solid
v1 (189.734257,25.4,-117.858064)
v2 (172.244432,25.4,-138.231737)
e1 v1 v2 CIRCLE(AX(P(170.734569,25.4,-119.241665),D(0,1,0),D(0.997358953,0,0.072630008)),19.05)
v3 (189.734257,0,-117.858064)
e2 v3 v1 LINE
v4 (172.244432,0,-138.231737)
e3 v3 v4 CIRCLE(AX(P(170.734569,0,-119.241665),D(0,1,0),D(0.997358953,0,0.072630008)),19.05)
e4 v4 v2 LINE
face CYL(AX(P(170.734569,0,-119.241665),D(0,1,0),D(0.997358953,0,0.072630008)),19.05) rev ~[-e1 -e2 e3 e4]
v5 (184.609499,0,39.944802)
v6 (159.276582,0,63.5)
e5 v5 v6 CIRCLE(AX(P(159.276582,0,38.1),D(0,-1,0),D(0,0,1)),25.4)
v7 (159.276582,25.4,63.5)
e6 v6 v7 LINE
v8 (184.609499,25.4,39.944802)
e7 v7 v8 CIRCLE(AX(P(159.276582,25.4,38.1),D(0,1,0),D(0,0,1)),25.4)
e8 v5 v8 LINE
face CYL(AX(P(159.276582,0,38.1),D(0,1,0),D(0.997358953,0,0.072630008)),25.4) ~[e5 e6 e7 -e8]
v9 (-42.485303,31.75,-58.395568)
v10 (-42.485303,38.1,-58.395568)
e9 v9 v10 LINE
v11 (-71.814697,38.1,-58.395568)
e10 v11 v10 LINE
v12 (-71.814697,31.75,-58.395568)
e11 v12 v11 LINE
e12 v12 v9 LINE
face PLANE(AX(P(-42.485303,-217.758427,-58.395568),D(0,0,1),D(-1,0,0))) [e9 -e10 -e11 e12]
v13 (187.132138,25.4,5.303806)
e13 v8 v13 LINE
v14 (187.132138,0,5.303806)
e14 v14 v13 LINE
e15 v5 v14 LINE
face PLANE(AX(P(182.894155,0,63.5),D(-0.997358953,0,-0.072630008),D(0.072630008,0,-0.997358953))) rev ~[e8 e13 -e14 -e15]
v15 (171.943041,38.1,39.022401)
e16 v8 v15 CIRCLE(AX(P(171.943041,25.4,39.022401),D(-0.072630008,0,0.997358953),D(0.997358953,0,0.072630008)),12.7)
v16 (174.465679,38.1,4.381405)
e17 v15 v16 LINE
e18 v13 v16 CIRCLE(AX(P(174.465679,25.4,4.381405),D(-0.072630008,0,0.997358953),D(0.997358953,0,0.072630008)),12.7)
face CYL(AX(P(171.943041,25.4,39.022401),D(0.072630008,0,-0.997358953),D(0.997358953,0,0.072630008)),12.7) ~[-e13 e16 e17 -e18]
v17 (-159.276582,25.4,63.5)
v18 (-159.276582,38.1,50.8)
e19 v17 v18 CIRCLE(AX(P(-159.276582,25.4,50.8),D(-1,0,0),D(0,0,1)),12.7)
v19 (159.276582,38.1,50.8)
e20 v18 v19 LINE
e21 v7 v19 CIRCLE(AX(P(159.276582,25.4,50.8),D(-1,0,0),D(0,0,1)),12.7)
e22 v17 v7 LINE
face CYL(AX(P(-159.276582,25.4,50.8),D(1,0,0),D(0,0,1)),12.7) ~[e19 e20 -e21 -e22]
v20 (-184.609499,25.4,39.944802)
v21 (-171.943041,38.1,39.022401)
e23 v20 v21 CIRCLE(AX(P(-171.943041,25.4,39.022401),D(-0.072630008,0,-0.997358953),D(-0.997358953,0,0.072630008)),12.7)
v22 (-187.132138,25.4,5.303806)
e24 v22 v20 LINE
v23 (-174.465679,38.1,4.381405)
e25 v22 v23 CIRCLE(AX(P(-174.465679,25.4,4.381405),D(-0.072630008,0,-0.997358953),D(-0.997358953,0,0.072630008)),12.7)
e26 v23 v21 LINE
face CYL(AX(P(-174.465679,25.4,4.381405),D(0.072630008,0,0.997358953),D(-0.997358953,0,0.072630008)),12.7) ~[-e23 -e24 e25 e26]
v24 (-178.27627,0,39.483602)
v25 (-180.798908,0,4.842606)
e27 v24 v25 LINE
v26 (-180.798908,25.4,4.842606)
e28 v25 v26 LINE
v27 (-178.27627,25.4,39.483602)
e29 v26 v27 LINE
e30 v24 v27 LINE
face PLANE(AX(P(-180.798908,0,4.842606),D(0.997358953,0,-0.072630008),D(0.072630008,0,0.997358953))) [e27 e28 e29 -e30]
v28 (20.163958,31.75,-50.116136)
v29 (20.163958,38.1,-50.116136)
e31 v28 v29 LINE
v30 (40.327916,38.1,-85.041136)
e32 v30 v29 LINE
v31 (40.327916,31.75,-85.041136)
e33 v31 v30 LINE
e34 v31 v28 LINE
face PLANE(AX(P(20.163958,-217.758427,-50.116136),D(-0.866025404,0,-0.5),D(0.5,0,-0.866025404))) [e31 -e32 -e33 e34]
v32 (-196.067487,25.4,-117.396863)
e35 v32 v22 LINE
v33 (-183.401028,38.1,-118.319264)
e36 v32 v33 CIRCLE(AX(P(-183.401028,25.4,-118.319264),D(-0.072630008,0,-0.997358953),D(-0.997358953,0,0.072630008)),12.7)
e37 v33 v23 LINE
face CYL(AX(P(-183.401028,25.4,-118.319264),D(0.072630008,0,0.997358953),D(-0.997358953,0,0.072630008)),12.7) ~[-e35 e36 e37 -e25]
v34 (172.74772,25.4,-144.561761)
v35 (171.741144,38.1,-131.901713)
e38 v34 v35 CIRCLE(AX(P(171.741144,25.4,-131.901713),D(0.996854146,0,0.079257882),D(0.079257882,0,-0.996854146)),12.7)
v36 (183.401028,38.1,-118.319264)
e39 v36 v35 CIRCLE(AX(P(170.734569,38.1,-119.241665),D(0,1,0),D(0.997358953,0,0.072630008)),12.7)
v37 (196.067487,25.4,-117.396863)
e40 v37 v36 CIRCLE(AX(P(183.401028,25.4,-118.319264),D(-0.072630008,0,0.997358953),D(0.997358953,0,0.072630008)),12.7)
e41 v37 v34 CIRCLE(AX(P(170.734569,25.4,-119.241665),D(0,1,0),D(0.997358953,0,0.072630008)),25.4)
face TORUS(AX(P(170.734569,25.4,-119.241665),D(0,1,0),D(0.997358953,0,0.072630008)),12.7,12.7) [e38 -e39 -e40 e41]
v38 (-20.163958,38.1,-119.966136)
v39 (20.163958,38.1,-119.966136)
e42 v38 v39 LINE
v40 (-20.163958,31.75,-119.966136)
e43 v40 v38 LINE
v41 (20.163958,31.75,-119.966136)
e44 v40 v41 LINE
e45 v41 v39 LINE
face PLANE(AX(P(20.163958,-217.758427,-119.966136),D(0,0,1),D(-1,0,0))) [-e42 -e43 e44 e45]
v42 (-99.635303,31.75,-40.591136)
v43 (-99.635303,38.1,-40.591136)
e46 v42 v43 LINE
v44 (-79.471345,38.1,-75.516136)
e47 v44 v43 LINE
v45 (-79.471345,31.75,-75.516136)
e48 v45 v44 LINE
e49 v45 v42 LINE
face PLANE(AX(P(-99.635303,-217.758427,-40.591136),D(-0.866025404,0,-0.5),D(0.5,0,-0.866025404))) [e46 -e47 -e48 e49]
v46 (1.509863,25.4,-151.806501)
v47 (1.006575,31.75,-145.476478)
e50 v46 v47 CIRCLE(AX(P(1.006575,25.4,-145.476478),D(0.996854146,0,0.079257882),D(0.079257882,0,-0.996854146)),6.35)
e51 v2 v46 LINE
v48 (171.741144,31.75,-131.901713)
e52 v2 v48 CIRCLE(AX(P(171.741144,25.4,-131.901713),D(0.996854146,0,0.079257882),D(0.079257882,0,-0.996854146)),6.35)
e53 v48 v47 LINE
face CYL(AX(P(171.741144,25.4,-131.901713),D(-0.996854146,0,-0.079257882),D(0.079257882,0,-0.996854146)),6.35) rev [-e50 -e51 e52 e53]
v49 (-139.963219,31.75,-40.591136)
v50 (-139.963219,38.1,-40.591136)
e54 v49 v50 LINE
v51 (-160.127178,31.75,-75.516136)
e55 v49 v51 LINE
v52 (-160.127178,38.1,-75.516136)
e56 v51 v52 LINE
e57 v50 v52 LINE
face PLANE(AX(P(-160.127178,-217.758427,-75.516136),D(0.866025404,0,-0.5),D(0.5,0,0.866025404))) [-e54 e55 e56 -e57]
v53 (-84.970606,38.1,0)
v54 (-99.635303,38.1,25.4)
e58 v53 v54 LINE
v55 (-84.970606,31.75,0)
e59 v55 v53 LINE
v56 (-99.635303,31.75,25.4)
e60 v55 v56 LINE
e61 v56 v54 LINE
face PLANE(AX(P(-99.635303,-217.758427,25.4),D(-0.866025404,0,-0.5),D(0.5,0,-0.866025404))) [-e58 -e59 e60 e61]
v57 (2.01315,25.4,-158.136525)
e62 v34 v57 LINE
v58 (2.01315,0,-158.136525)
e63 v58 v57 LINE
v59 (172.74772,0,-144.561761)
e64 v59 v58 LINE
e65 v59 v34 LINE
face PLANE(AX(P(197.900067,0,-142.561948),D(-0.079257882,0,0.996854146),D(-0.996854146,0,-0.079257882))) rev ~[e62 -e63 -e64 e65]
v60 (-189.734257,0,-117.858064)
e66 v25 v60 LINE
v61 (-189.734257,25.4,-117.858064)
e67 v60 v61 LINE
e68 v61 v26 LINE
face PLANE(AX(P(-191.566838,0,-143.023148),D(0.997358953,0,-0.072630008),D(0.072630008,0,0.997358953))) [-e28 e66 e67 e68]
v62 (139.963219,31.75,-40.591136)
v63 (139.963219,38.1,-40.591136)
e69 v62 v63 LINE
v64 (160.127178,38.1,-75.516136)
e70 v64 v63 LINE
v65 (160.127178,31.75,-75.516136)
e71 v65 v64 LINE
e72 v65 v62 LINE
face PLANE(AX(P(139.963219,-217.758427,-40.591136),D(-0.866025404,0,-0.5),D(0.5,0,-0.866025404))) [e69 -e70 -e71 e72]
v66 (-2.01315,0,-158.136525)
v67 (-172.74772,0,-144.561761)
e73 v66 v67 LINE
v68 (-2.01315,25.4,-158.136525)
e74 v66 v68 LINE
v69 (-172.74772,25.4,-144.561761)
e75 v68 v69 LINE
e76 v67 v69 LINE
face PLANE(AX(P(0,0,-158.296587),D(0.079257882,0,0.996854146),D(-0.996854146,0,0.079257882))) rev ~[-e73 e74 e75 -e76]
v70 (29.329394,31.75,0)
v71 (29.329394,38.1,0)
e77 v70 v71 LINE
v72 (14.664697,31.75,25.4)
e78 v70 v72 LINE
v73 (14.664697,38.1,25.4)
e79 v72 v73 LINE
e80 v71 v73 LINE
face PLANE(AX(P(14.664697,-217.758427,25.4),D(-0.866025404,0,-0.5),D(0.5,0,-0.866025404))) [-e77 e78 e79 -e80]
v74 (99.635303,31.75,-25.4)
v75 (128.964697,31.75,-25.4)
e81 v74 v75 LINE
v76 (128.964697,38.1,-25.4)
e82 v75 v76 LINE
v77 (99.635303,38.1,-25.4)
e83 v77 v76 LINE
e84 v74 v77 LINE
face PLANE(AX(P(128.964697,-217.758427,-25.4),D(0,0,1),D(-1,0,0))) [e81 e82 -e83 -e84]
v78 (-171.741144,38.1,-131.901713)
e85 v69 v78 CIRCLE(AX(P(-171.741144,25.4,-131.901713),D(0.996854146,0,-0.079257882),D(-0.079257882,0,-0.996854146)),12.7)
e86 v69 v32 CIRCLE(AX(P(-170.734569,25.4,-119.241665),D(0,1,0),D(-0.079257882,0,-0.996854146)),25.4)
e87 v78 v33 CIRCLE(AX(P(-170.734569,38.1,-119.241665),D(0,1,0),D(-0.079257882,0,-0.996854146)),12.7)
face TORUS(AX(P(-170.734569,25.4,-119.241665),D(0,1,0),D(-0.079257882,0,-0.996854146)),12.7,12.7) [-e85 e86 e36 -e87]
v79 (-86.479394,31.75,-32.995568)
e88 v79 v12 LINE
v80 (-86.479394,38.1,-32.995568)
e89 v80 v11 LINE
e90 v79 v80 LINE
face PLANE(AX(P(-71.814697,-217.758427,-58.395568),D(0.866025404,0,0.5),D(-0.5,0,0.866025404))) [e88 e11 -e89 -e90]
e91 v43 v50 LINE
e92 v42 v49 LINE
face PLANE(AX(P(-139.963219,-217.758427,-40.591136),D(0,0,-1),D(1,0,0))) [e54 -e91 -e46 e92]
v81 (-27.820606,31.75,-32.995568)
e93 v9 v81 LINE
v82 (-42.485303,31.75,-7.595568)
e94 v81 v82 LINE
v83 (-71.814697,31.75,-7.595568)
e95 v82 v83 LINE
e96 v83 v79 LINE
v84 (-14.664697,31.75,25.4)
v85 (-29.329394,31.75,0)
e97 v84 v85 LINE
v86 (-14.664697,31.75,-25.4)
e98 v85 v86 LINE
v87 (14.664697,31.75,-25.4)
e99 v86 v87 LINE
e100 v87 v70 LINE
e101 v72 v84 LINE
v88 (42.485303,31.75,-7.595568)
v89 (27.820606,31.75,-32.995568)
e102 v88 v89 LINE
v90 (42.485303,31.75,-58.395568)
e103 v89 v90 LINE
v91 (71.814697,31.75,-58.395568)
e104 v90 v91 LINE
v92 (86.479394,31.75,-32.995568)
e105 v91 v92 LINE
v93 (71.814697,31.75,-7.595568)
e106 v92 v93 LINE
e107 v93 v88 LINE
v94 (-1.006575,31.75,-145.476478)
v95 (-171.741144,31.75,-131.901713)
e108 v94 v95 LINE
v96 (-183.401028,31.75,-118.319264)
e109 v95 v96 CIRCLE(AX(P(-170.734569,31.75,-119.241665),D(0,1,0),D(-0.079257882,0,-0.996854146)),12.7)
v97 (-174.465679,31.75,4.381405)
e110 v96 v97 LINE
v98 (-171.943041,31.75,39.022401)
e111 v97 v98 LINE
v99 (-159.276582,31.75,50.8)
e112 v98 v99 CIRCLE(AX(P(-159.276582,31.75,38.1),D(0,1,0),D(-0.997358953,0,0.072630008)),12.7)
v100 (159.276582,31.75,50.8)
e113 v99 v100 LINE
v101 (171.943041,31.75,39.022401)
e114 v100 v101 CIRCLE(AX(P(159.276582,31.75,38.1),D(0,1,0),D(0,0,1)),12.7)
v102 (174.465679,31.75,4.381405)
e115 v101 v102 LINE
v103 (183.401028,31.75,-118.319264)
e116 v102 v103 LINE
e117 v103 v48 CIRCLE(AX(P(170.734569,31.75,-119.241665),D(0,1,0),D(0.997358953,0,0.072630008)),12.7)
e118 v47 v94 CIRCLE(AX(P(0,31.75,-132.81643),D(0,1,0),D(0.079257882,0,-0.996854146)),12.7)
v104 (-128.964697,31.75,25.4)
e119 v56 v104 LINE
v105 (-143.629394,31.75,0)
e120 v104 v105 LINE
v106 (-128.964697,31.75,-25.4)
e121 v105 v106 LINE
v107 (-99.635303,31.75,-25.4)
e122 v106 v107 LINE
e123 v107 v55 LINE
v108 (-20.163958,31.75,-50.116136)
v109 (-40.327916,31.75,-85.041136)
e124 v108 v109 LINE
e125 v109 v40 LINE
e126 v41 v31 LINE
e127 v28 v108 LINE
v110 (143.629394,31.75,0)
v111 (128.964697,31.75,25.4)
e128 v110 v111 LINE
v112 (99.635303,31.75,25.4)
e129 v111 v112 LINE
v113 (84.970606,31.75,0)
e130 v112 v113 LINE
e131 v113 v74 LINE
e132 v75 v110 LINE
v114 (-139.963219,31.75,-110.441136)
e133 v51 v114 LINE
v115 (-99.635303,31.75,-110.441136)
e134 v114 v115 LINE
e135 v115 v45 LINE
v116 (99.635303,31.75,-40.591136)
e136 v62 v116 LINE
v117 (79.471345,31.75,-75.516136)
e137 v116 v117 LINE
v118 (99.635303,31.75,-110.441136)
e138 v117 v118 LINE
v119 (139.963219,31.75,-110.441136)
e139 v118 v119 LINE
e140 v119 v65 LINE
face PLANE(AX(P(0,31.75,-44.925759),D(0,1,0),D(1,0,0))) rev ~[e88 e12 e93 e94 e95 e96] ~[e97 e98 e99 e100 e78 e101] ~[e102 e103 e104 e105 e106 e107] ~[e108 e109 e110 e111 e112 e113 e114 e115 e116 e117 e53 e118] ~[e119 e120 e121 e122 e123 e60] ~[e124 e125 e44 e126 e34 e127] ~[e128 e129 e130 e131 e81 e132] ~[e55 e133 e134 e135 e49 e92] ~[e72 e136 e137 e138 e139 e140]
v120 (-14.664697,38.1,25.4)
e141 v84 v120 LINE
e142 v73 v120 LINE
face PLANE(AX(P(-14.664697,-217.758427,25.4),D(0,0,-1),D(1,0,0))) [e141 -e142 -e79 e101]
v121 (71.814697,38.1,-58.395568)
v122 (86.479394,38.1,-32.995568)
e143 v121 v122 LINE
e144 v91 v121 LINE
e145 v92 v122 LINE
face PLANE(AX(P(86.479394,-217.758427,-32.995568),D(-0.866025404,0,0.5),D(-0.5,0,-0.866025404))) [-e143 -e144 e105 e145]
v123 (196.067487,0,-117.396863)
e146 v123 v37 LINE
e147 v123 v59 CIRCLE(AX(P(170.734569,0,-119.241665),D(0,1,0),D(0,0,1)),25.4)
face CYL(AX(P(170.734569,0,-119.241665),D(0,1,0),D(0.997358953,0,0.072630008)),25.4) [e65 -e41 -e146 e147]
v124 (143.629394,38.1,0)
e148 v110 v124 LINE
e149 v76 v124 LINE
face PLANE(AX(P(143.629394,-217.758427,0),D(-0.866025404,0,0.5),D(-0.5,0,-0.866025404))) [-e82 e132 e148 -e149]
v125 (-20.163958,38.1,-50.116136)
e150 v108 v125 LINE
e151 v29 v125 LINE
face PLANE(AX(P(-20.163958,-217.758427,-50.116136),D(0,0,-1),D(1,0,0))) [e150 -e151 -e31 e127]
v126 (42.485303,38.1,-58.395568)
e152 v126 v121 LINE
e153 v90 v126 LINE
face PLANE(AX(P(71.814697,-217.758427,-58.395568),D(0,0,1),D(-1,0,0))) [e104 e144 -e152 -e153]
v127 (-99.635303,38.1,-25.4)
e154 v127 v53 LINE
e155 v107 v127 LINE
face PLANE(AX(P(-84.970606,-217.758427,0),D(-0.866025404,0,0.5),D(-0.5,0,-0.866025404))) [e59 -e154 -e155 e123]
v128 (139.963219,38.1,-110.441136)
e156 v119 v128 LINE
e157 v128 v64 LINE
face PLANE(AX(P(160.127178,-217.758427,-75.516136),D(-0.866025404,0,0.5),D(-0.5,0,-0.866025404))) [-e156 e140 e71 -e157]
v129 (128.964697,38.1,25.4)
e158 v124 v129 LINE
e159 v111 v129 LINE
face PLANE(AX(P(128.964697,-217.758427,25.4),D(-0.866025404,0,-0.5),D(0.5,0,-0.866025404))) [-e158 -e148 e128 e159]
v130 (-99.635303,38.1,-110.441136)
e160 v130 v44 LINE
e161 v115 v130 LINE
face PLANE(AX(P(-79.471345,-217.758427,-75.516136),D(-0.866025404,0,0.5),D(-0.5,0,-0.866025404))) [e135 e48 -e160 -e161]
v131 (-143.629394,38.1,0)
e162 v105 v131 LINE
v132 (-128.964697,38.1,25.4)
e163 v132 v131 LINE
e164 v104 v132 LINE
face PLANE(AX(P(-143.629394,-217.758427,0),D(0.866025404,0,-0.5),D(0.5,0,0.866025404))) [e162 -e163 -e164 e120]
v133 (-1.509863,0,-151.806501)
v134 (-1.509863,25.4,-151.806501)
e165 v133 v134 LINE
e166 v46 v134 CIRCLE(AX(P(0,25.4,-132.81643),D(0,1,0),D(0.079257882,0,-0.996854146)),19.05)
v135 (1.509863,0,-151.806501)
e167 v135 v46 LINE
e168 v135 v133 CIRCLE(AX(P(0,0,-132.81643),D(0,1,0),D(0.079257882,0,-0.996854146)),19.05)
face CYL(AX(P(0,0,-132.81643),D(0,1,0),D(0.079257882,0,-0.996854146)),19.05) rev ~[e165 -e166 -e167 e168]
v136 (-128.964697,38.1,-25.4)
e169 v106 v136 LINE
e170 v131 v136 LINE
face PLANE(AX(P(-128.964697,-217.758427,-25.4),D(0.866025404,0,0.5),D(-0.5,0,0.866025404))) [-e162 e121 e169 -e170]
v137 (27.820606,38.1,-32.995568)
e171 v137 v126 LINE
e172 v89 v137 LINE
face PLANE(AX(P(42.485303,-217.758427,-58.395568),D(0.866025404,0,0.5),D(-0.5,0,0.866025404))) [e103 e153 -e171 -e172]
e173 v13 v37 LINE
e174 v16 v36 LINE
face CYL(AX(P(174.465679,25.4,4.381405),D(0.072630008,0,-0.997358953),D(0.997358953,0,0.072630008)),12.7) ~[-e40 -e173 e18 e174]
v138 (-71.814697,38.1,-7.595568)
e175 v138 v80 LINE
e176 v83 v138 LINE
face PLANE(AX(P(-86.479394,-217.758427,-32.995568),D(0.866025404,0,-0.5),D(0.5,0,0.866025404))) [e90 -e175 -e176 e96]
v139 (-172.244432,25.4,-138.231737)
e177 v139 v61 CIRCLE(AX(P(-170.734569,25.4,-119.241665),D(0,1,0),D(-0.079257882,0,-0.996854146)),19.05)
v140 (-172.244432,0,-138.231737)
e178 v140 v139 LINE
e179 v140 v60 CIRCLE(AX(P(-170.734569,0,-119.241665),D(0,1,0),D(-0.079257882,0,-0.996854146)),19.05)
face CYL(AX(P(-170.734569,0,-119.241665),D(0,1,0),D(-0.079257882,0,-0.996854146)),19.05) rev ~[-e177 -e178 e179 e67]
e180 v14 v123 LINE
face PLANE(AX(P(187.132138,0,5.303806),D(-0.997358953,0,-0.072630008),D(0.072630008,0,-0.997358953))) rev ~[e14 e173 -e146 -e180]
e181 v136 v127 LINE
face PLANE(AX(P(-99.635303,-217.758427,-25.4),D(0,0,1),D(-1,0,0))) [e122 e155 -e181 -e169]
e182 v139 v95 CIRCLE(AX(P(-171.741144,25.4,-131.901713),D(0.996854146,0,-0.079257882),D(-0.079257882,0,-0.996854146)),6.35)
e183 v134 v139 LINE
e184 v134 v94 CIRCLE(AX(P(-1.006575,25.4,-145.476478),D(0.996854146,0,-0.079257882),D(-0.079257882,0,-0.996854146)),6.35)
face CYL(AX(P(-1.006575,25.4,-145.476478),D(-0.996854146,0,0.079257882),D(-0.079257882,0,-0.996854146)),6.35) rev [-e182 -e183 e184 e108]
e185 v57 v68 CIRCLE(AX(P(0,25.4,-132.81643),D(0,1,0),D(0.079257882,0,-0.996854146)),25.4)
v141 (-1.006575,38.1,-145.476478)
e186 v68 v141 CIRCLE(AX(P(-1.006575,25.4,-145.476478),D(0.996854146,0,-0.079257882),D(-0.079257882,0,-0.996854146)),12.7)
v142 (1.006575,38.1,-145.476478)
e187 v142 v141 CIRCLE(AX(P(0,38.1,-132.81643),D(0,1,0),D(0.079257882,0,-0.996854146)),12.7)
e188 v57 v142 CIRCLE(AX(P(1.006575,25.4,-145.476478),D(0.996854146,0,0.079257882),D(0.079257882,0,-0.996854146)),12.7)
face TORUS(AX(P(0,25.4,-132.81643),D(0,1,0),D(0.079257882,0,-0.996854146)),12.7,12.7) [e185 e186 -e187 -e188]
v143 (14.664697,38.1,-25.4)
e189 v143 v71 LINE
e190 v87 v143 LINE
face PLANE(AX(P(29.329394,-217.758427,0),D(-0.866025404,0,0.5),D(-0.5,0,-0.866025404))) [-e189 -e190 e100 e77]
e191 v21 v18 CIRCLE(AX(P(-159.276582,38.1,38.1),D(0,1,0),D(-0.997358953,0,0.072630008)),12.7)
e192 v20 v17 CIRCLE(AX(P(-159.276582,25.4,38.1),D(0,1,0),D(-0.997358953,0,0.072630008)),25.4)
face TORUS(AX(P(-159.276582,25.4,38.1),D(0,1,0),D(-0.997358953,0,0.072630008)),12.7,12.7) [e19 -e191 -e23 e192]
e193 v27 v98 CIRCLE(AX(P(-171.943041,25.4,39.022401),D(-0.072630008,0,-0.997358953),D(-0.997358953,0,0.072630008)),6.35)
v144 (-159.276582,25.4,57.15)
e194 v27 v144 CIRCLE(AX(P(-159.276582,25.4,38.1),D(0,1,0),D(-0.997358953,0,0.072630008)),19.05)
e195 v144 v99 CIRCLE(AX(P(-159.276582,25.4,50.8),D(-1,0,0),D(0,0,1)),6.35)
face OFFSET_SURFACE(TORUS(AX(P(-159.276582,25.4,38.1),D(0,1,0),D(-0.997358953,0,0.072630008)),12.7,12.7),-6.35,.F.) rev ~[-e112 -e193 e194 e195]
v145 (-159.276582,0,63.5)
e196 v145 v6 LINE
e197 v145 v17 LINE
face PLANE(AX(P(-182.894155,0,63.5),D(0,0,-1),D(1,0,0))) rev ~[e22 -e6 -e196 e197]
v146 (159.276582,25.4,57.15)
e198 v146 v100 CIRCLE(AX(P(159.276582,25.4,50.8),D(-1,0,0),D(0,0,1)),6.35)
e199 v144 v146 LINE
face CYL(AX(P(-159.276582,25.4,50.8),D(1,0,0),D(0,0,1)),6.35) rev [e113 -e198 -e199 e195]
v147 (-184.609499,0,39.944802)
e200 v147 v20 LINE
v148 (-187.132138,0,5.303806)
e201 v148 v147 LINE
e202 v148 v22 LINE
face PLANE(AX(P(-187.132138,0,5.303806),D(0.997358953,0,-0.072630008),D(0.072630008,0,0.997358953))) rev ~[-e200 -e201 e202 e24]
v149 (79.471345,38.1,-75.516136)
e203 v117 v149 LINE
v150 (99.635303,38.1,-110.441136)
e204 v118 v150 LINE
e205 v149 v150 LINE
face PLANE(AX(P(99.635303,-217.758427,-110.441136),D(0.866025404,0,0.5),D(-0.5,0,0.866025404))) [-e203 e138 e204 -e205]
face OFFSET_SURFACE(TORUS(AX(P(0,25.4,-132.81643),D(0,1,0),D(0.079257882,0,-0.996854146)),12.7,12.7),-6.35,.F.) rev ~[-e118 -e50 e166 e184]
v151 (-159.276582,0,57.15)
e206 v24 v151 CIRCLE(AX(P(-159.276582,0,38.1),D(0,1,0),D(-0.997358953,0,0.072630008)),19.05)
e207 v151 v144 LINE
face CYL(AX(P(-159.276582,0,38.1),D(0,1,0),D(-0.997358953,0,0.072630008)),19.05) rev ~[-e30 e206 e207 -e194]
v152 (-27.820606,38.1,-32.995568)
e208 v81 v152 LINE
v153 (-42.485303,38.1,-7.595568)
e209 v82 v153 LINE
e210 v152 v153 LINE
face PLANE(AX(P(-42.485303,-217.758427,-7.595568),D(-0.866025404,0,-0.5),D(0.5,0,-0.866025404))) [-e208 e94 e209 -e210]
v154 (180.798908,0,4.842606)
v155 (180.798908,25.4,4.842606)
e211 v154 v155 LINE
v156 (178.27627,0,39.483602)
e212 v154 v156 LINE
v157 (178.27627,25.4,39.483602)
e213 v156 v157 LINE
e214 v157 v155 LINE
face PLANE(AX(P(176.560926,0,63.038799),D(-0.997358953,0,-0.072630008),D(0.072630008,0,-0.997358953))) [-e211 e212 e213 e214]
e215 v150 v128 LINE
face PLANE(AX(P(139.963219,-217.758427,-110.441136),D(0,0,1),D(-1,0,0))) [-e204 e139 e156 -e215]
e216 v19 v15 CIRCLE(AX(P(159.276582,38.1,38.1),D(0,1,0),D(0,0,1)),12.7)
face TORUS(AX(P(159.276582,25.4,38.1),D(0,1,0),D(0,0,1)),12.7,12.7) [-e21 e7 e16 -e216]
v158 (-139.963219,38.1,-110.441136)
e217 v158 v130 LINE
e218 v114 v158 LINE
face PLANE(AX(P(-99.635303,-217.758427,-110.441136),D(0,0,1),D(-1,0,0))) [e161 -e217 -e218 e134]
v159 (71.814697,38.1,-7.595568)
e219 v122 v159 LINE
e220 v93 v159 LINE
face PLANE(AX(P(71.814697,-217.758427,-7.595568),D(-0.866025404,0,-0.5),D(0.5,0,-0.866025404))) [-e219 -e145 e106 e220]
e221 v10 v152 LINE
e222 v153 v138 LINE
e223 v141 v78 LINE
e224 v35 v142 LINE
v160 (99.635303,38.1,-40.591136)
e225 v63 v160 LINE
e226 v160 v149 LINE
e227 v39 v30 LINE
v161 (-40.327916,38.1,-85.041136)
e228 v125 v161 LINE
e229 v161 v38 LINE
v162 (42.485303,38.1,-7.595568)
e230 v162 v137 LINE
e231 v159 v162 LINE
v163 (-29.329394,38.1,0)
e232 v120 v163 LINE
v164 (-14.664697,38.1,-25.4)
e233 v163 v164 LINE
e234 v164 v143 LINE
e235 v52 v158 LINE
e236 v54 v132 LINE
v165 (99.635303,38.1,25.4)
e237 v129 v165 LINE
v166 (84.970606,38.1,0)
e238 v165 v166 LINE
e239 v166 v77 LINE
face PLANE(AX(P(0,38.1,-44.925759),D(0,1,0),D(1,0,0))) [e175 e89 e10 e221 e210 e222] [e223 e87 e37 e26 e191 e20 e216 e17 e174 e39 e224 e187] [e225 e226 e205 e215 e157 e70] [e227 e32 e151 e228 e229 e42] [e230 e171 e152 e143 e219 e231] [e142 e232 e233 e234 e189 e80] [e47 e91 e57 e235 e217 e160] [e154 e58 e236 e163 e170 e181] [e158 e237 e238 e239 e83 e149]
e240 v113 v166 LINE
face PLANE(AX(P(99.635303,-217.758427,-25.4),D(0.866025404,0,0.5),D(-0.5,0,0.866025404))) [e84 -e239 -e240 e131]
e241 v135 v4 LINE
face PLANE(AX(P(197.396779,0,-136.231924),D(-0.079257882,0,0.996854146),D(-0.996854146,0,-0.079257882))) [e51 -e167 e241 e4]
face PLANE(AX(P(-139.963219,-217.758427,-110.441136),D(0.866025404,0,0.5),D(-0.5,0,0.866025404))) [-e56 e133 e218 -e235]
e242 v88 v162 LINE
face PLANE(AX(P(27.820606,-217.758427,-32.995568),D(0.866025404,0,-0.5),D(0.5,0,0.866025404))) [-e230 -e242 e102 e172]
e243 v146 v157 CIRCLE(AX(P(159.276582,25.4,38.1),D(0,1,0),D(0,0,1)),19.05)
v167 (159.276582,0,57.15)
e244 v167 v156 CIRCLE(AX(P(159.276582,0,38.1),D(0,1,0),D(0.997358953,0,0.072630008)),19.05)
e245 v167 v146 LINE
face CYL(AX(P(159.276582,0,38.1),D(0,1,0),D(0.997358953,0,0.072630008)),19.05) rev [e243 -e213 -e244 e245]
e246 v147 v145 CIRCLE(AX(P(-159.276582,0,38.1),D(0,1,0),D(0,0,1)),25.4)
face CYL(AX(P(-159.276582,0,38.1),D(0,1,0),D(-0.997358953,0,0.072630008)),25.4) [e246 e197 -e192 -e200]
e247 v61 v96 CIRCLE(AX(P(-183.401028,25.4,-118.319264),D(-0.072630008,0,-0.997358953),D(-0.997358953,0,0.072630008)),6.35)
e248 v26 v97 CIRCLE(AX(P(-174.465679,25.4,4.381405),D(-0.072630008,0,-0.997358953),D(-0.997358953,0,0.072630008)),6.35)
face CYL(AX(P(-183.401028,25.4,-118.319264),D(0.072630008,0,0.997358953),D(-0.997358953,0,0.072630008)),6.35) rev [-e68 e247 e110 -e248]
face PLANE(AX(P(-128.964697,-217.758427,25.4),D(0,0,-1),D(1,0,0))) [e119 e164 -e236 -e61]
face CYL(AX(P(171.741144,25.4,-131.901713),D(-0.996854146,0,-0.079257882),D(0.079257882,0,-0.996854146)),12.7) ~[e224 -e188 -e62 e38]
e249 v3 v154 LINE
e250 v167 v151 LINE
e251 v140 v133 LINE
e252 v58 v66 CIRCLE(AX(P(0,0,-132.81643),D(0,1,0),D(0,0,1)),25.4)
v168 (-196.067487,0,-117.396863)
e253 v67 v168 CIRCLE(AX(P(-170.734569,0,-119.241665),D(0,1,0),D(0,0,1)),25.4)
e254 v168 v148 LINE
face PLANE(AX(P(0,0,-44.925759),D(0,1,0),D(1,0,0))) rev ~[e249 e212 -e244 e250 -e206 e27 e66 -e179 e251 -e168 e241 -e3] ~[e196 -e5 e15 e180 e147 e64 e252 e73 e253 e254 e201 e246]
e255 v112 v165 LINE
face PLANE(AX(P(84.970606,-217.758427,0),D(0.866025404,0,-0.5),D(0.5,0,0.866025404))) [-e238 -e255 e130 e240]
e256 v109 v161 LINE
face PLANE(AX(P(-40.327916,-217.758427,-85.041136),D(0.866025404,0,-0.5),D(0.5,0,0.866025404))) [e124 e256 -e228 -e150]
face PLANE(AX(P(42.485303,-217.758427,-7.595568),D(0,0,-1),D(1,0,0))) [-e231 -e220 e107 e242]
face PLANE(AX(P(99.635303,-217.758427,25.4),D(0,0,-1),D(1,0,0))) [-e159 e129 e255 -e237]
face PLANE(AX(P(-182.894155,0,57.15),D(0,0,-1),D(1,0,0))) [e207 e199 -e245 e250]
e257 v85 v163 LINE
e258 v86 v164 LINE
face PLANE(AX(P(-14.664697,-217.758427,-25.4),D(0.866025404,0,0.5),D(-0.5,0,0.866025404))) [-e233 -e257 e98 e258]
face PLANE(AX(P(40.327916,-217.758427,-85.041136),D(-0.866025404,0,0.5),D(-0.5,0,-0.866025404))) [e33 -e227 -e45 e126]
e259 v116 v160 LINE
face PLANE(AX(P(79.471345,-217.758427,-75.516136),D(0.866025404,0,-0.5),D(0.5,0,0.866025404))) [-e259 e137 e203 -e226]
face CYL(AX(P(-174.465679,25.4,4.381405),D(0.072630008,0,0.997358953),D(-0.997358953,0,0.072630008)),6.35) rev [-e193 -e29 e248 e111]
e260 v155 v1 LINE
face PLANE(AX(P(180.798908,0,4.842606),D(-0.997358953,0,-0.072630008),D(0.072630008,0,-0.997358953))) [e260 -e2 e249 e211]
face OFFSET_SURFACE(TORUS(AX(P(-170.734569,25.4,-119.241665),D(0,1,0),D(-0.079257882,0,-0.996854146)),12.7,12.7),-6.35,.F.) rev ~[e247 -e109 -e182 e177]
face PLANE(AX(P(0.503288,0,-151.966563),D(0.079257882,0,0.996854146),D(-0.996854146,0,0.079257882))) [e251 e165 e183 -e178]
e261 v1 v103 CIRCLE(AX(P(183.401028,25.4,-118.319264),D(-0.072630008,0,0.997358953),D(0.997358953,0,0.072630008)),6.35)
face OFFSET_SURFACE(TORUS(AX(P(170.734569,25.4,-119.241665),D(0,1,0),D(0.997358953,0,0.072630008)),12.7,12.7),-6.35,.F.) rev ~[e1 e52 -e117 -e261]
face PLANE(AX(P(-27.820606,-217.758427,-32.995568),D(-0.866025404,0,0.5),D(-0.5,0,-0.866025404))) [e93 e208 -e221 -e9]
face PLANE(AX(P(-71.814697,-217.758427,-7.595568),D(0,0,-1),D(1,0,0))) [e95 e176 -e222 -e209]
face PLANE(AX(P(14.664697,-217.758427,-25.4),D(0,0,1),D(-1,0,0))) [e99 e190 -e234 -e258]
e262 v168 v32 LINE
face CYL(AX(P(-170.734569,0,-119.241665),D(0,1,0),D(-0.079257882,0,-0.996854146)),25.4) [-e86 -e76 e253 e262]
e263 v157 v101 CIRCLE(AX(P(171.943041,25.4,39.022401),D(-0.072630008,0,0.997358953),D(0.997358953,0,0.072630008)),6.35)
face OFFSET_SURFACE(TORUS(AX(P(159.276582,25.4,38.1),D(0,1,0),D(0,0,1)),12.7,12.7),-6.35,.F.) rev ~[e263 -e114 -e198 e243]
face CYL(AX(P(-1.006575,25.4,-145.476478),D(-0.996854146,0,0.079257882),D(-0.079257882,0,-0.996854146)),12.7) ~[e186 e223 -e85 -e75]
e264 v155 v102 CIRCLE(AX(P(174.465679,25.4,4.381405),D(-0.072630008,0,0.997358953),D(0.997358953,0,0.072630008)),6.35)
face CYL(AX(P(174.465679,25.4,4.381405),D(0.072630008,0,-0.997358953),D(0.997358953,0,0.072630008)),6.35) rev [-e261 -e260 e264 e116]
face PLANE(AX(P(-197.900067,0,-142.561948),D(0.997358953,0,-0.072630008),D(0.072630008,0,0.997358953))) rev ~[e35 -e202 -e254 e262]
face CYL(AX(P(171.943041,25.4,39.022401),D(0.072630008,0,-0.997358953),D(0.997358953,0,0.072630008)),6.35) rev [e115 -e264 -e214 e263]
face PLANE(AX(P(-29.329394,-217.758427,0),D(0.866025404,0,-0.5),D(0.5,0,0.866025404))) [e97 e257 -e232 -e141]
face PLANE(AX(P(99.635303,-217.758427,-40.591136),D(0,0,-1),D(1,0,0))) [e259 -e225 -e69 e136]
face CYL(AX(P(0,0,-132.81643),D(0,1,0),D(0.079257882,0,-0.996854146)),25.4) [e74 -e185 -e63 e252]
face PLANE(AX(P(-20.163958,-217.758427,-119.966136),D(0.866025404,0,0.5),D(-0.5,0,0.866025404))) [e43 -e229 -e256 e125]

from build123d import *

# Parameters (mm, degrees)
BOSS_EXTRUDE1_DEPTH     = 38.1
FILLET1_R               = 25.4
FILLET2_R               = 12.7
SHELL1_T                = -6.35
CUT_EXTRUDE1_DEPTH      = 255.858427337
CUT_EXTRUDE1_DEPTH_BACK = 255.858427337


with BuildPart() as part:
    # Sketch1 → Boss-Extrude1 (new body)
    with BuildSketch(Plane(origin=(0, 0, 0), x_dir=(1, 0, 0), z_dir=(0, 1, 0))):
        Polygon((-114.3, -63.5), (114.3, -63.5), (182.894154879, -63.5), (187.132137575, -5.303806299), (197.900067, 142.561947658), (0, 158.296586732), (-197.900067, 142.561947658), (-187.132137575, -5.303806299), (-182.894154879, -63.5), align=None)
    extrude(amount=BOSS_EXTRUDE1_DEPTH)

    # Fillet1
    fillet1_edges = [part.edges().sort_by_distance(p)[0] for p in [
        (-182.894154879, 19.05, 63.5),
        (-197.900067, 19.05, -142.561947658),
        (0, 19.05, -158.296586732),
        (197.900067, 19.05, -142.561947658),
        (182.894154879, 19.05, 63.5),
    ]]
    fillet(fillet1_edges, radius=FILLET1_R)

    # Fillet2
    fillet2_edges = [part.edges().sort_by_distance(p)[0] for p in [
        (190.338493083, 38.1, -38.72603044),
        (0, 38.1, 63.5),
        (87.380434893, 38.1, -151.349142873),
        (-87.380434893, 38.1, -151.349142873),
        (-190.338493083, 38.1, -38.72603044),
        (-190.007212355, 38.1, -135.786308877),
        (0, 38.1, -158.216429875),
        (-176.572564505, 38.1, 56.70131683),
        (190.007212355, 38.1, -135.786308877),
        (176.572564505, 38.1, 56.70131683),
    ]]
    fillet(fillet2_edges, radius=FILLET2_R)

    # Shell1
    shell1_openings = [part.faces().sort_by_distance(p)[0] for p in [
        (0, 0, -44.95160626),
    ]]
    offset(amount=SHELL1_T, openings=shell1_openings, kind=Kind.INTERSECTION)

    # Sketch3 → Cut-Extrude1 (cut, two sides: drawn at the far end of the back side and taken through both)
    with BuildSketch(Plane(origin=(0, 38.1, 0), x_dir=(1, 0, 0), z_dir=(0, 1, 0)).offset(-CUT_EXTRUDE1_DEPTH_BACK)):
        Polygon((-128.964696837, 25.4), (-143.629393675, 0), (-128.964696837, -25.4), (-99.635303163, -25.4), (-84.970606325, 0), (-99.635303163, 25.4), align=None)
        Polygon((-27.820606325, 32.995567884), (-42.485303163, 58.395567884), (-71.814696837, 58.395567884), (-86.479393675, 32.995567884), (-71.814696837, 7.595567884), (-42.485303163, 7.595567884), align=None)
        Polygon((40.327916303, 85.041135768), (20.163958151, 119.966135768), (-20.163958151, 119.966135768), (-40.327916303, 85.041135768), (-20.163958151, 50.116135768), (20.163958151, 50.116135768), align=None)
        Polygon((29.329393675, 0), (14.664696837, 25.4), (-14.664696837, 25.4), (-29.329393675, 0), (-14.664696837, -25.4), (14.664696837, -25.4), align=None)
        Polygon((143.629393675, 0), (128.964696837, 25.4), (99.635303163, 25.4), (84.970606325, 0), (99.635303163, -25.4), (128.964696837, -25.4), align=None)
        Polygon((71.814696837, 7.595567884), (86.479393675, 32.995567884), (71.814696837, 58.395567884), (42.485303163, 58.395567884), (27.820606325, 32.995567884), (42.485303163, 7.595567884), align=None)
        Polygon((-99.635303163, 40.591135768), (-79.471345011, 75.516135768), (-99.635303163, 110.441135768), (-139.963219465, 110.441135768), (-160.127177617, 75.516135768), (-139.963219465, 40.591135768), align=None)
        Polygon((160.127177617, 75.516135768), (139.963219465, 110.441135768), (99.635303163, 110.441135768), (79.471345011, 75.516135768), (99.635303163, 40.591135768), (139.963219465, 40.591135768), align=None)
    extrude(amount=CUT_EXTRUDE1_DEPTH + CUT_EXTRUDE1_DEPTH_BACK, mode=Mode.SUBTRACT)


solid = part.part
